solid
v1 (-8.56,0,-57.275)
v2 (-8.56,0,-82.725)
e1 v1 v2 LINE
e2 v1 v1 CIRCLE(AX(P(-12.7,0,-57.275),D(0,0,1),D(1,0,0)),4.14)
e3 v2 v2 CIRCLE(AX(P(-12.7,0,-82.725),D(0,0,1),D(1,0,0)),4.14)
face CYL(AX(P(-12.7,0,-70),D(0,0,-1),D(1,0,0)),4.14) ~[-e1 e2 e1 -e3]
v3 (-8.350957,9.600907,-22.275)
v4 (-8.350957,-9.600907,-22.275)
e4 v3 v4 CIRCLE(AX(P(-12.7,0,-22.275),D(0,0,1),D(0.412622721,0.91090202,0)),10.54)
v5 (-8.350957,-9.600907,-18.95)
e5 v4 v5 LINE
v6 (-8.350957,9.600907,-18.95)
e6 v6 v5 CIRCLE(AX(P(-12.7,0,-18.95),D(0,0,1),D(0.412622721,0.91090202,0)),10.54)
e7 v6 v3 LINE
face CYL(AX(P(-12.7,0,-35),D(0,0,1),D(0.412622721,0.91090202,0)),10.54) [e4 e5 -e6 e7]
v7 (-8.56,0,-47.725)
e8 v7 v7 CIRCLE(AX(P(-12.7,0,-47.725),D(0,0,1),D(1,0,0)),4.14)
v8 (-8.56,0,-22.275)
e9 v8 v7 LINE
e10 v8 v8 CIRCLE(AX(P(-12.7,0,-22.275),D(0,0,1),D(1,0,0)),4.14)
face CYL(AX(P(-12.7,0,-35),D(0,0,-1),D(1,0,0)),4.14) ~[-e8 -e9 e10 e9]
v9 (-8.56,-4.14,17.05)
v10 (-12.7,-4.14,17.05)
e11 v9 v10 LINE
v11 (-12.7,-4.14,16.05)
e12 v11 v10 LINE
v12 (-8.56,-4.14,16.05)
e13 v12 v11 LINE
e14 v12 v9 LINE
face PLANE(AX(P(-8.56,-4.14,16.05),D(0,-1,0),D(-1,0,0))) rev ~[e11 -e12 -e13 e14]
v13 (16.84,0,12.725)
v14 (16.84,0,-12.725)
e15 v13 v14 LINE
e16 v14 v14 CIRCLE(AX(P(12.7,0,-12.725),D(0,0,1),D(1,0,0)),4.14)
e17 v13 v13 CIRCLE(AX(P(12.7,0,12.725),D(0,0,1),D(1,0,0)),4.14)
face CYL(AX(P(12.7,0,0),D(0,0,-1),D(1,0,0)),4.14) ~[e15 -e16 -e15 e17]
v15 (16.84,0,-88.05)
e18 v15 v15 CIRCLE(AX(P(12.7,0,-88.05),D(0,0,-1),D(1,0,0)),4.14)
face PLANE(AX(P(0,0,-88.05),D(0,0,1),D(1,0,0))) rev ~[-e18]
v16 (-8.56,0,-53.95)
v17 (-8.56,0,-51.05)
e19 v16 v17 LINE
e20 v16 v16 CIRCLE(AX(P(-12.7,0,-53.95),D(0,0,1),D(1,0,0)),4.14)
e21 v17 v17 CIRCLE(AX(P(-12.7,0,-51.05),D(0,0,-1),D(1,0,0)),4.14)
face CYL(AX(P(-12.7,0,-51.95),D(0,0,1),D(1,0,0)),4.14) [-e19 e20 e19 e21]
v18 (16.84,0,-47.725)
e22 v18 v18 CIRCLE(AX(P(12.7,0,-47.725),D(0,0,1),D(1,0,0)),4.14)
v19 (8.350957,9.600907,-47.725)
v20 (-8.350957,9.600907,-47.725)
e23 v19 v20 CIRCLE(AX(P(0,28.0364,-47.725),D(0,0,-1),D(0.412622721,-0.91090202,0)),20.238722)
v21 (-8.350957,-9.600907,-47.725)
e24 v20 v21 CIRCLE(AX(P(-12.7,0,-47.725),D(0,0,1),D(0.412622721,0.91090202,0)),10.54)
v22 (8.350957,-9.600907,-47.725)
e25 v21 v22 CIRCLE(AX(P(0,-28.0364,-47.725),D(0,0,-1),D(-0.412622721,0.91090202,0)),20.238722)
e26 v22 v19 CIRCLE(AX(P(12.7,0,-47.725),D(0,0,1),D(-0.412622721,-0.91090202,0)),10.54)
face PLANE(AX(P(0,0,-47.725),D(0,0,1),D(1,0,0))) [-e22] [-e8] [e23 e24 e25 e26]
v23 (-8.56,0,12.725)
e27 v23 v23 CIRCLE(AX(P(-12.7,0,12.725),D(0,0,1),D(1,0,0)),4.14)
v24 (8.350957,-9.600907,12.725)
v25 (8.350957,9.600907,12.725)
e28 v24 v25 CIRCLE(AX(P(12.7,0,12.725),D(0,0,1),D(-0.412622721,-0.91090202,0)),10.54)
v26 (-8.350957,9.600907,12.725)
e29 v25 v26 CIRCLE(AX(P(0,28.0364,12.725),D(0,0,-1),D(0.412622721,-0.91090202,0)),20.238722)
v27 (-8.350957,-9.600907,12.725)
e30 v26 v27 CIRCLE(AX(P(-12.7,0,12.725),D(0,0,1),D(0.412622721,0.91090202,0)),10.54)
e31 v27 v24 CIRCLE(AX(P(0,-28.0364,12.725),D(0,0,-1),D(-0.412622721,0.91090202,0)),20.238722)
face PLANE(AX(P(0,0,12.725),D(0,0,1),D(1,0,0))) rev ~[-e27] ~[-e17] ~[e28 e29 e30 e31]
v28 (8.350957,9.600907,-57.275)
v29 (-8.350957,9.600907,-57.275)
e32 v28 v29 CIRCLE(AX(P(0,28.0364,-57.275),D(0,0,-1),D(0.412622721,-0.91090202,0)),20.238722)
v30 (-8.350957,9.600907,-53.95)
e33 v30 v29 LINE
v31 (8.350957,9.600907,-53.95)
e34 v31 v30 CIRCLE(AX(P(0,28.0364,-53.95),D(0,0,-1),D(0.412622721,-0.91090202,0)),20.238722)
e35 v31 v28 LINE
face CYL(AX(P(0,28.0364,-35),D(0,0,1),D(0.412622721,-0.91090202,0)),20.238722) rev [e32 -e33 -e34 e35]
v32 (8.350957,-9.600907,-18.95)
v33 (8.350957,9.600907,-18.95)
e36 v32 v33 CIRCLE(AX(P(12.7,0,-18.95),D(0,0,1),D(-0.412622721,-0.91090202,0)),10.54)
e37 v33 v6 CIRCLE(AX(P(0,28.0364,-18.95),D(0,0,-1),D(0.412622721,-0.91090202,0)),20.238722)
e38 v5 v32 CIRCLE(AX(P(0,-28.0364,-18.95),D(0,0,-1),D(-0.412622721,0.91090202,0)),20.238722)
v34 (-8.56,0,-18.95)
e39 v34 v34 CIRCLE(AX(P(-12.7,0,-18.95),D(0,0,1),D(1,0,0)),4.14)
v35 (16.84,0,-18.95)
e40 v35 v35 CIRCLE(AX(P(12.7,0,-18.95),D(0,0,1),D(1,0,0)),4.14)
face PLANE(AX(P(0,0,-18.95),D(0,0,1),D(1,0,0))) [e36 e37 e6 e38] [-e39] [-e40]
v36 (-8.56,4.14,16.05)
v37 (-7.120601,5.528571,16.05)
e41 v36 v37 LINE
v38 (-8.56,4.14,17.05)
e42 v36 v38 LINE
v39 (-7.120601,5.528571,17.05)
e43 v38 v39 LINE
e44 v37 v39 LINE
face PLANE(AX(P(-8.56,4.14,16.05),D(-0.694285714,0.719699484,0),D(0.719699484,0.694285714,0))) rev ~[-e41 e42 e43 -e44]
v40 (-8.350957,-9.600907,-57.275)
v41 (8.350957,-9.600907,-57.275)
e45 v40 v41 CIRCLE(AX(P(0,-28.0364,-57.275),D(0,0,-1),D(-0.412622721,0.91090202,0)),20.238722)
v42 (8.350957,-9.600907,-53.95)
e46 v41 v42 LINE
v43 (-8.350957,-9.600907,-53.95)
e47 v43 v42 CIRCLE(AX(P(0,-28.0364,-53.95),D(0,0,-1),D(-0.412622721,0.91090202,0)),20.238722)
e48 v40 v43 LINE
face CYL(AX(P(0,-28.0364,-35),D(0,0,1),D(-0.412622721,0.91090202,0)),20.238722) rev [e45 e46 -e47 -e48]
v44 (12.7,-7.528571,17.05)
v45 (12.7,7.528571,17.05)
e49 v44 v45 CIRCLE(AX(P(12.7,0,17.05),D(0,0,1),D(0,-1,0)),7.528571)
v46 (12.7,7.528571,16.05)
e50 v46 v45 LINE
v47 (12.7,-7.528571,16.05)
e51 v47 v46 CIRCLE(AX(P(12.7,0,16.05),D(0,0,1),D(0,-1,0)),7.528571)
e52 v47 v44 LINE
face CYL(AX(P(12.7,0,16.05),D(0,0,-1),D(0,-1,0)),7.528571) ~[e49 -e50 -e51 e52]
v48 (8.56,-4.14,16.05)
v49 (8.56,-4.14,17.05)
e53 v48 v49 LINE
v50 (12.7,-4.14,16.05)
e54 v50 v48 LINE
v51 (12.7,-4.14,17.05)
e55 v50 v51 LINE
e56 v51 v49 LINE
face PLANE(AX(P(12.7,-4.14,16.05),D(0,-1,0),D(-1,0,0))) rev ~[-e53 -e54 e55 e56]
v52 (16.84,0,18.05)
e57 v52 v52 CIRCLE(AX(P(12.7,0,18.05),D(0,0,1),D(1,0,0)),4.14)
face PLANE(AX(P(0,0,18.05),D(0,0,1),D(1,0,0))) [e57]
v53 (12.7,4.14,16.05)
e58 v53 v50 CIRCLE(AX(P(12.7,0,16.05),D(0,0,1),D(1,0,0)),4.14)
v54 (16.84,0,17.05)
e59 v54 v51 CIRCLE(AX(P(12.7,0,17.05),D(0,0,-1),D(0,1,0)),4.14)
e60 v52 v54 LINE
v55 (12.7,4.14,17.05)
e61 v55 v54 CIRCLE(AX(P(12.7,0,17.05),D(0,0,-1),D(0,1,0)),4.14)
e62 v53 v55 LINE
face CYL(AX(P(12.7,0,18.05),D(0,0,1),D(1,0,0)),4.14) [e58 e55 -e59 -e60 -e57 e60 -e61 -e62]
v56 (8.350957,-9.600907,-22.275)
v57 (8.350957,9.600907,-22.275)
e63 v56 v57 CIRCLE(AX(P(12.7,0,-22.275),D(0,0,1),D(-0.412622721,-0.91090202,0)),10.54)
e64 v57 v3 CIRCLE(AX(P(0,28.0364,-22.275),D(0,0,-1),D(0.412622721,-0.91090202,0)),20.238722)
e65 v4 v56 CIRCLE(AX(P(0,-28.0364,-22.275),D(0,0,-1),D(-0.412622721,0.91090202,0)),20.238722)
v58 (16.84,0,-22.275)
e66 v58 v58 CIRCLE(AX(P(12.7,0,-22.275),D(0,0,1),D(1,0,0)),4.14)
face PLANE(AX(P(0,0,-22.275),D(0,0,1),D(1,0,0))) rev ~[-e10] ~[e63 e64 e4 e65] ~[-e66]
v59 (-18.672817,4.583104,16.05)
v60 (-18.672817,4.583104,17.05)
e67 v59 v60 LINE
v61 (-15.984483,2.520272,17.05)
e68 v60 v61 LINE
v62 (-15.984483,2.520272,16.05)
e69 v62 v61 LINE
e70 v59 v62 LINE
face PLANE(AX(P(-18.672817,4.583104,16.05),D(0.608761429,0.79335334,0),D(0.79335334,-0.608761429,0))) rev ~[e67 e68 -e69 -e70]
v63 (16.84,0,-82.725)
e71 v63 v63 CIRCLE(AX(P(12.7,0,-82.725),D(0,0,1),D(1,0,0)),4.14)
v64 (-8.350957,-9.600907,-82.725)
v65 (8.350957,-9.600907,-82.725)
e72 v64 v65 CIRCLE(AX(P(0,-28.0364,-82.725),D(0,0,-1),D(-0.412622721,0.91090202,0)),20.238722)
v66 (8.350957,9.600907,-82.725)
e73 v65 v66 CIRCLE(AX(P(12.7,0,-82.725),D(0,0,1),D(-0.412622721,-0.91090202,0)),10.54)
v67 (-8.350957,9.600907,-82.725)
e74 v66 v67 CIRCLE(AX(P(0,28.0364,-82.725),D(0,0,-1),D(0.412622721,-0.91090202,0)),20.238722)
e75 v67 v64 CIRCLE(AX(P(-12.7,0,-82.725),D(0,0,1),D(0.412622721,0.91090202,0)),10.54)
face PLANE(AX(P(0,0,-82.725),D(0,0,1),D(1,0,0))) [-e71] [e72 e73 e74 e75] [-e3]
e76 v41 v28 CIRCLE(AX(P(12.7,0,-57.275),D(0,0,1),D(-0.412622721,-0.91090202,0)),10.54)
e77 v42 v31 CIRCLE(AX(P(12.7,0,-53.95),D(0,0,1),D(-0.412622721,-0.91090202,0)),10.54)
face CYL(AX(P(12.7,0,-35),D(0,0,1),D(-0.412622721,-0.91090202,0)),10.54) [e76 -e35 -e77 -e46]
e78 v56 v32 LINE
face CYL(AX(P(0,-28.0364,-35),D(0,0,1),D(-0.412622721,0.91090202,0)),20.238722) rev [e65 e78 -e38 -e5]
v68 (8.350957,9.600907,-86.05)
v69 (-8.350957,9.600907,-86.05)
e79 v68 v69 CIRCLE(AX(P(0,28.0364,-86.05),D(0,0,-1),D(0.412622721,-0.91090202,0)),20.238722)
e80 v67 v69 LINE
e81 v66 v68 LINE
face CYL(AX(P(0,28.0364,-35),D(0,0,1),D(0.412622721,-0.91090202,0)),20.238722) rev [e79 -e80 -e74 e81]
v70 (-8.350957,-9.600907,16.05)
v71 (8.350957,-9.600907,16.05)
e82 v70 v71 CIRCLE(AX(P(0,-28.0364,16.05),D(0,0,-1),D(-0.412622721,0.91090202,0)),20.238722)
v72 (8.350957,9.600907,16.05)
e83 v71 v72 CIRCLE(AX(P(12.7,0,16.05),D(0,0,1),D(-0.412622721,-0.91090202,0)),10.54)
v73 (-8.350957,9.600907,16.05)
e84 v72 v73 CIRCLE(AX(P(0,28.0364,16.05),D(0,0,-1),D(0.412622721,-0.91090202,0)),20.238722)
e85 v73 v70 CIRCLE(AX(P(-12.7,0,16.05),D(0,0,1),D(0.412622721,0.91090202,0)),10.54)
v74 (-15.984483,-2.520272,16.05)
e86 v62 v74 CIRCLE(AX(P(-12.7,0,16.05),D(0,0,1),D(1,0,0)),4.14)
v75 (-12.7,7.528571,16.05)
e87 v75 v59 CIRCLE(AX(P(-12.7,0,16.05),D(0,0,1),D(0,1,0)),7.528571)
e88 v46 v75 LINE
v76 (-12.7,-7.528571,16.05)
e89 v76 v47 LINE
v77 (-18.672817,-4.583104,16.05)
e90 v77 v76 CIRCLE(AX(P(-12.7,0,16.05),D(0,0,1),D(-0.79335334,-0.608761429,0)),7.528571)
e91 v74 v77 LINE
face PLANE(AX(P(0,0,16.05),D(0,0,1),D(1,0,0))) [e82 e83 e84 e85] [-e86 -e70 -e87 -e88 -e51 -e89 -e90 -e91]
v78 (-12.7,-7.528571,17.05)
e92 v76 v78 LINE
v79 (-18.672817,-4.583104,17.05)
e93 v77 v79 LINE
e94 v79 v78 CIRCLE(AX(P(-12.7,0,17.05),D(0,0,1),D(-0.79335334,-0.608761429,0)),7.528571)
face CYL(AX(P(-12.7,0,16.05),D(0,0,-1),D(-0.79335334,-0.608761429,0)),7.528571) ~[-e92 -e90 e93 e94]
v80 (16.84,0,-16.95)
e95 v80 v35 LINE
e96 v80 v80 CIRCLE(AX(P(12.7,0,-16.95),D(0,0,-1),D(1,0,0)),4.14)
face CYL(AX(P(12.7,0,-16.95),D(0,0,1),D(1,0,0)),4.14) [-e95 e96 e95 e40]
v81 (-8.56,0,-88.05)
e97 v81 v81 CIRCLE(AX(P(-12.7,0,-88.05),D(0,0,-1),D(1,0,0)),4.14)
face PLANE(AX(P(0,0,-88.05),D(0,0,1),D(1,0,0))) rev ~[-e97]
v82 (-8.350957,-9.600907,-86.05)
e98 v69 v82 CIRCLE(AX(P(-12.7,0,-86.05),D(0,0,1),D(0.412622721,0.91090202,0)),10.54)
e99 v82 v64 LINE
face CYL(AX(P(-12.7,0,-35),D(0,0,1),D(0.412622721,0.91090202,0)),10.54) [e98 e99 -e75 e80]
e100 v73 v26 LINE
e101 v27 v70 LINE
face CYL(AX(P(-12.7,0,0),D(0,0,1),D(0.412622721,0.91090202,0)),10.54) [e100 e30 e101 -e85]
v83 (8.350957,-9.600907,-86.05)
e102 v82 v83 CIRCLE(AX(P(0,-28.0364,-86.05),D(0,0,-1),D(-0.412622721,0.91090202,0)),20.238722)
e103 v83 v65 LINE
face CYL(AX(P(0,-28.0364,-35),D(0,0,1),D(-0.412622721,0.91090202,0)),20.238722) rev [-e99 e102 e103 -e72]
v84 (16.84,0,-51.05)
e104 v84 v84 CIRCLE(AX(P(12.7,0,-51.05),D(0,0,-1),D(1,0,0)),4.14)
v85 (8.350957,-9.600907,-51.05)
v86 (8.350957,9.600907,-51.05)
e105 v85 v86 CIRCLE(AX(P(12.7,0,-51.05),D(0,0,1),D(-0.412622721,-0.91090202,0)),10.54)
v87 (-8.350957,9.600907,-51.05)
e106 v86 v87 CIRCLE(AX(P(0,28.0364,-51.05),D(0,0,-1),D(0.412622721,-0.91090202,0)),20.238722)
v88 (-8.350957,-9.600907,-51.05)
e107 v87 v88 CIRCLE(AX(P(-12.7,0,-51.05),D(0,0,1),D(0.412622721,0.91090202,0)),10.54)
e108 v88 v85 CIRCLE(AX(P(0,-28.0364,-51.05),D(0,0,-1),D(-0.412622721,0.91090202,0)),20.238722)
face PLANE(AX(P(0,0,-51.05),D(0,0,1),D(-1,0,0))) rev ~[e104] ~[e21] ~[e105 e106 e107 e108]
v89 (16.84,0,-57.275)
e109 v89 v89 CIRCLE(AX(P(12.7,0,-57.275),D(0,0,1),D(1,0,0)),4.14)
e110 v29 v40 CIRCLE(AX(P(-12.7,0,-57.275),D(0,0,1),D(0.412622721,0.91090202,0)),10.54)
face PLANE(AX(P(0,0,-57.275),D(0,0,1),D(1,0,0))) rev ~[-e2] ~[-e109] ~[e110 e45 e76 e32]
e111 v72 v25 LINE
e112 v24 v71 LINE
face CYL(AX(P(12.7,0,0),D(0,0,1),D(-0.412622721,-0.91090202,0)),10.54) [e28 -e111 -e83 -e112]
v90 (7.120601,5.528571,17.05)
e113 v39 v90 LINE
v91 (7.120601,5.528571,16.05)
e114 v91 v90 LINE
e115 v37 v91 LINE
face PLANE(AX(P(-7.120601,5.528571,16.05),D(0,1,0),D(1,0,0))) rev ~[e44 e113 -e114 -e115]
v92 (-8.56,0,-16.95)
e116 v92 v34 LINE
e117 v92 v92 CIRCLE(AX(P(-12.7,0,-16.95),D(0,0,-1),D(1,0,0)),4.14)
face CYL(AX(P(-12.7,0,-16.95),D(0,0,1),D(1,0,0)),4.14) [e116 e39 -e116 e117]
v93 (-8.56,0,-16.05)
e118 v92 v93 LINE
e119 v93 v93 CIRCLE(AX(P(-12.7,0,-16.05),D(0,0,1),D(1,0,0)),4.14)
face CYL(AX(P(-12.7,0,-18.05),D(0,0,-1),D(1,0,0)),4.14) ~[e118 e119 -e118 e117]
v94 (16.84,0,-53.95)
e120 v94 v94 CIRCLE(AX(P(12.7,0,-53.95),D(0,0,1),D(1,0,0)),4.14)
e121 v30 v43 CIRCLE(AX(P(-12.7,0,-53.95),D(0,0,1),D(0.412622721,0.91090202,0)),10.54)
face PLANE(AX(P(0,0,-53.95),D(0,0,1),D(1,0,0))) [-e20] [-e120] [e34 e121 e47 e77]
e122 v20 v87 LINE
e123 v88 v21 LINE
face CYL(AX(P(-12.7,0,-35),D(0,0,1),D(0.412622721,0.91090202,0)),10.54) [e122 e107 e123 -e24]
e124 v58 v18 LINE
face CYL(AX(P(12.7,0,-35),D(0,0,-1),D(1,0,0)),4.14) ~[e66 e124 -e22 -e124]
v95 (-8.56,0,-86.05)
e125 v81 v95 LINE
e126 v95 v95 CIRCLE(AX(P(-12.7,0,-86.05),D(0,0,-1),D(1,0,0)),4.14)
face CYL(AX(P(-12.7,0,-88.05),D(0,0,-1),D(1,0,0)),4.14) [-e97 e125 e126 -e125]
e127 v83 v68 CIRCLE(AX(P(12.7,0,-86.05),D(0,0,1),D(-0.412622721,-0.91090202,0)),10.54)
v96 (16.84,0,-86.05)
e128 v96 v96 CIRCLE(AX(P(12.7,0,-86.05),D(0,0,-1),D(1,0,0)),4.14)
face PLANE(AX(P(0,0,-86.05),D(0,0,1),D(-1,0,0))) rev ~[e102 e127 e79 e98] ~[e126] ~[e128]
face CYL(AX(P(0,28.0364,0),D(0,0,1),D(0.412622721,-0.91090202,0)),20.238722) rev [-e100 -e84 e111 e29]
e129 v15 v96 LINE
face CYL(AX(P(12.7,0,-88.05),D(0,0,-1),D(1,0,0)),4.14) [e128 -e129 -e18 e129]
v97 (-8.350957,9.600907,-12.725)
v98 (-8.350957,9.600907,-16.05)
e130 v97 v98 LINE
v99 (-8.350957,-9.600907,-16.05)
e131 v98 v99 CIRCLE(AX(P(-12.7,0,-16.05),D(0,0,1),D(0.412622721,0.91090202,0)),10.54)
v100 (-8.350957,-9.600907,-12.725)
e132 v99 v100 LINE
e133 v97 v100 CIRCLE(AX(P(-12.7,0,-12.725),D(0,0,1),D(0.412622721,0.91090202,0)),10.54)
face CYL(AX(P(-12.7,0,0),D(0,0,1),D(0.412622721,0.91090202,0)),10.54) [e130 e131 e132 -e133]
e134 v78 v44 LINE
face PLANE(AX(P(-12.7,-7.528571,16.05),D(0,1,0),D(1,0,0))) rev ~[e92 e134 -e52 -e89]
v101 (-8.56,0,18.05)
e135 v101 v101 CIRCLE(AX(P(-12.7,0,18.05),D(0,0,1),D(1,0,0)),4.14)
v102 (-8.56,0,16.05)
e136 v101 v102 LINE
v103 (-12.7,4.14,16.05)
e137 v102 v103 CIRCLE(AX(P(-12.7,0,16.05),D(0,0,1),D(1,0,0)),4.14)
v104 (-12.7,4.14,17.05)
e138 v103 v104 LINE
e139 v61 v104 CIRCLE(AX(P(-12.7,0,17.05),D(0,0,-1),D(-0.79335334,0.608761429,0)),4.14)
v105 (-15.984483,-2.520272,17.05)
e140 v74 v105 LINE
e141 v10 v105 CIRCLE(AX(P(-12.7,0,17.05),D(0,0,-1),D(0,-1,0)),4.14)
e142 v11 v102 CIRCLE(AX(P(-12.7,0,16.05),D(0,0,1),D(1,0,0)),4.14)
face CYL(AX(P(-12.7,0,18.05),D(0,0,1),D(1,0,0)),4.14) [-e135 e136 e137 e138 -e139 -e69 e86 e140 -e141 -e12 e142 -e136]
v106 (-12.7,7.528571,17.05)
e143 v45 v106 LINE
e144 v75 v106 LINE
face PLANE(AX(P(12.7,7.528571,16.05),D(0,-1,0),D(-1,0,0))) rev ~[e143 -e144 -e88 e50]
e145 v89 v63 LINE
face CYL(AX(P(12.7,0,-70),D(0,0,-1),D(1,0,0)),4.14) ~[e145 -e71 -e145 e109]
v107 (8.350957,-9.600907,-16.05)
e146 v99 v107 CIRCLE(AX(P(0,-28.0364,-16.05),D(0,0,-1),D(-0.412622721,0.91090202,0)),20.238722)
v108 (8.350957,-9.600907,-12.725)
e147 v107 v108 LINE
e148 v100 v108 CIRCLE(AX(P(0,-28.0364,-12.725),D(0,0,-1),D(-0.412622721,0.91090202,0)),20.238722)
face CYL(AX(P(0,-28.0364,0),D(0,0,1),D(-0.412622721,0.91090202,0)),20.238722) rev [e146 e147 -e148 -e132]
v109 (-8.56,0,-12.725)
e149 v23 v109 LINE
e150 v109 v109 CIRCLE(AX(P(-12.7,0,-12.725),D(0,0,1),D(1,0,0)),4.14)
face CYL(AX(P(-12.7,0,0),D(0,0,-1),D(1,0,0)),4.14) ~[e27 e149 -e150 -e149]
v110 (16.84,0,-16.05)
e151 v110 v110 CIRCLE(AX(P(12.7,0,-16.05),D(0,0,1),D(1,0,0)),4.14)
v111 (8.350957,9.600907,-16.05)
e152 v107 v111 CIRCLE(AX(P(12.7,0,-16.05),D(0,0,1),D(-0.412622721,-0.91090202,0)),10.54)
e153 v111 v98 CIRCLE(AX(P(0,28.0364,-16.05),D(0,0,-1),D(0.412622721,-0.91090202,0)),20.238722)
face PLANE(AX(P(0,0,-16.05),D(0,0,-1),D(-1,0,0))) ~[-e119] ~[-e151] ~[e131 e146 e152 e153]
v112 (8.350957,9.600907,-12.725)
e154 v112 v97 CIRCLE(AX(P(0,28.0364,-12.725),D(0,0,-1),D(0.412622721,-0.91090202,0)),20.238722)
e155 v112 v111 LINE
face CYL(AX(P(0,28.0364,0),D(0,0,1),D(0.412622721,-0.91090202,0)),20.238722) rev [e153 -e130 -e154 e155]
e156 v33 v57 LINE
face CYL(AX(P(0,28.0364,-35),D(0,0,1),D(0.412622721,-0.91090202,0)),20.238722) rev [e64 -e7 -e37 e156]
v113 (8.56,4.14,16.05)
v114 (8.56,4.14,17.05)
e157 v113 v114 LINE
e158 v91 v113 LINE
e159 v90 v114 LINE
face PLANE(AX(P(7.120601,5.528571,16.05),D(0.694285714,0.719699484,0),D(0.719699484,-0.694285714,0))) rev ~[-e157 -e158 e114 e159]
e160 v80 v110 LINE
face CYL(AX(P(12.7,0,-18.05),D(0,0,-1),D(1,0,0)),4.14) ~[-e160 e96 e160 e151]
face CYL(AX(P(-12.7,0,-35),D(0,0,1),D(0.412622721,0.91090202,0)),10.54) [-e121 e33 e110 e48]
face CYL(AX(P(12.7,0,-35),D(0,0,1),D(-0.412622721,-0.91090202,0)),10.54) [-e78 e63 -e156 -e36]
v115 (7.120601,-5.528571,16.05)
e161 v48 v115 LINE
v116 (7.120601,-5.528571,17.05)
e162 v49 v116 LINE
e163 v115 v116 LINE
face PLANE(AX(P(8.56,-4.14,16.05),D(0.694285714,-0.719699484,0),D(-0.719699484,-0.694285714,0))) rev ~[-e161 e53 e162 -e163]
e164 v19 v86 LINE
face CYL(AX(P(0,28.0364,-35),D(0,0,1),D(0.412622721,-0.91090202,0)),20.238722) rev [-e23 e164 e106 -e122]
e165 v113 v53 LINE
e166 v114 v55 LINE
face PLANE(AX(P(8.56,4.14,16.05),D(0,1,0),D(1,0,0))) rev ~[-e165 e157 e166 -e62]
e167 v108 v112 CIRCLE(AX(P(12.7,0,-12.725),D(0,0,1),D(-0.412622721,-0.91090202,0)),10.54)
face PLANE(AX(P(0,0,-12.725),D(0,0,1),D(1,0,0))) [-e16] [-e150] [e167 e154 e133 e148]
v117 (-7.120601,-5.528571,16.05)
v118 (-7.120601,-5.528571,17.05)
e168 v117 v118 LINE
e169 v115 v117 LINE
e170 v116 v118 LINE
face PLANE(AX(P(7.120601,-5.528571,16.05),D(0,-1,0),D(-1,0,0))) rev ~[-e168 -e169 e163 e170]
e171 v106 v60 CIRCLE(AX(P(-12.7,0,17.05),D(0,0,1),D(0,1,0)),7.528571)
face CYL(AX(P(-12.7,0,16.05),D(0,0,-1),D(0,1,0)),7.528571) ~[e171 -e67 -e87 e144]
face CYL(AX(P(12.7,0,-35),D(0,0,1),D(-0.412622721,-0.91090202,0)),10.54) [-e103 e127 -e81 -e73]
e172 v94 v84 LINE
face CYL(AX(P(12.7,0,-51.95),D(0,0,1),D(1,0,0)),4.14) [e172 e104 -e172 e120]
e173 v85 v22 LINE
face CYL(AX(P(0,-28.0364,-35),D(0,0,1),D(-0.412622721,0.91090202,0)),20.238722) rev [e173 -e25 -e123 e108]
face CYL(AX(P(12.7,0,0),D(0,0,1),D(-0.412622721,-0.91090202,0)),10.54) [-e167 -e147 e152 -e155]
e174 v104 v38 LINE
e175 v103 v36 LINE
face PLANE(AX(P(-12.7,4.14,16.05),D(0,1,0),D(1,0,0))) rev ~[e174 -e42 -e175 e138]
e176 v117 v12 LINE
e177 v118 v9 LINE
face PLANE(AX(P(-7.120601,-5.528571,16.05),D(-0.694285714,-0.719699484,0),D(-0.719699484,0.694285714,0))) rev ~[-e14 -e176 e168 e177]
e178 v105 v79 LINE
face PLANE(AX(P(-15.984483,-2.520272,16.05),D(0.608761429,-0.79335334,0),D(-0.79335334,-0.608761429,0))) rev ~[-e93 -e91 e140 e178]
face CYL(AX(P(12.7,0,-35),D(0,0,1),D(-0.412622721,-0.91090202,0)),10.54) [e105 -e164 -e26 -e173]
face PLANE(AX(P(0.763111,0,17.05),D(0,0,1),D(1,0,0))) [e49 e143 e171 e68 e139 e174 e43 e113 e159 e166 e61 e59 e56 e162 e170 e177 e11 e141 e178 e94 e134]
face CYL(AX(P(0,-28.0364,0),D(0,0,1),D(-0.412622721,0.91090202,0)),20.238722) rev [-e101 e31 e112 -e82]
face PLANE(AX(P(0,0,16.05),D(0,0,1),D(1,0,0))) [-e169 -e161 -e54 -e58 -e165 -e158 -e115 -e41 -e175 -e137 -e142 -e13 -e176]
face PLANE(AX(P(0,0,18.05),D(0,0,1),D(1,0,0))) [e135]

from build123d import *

# Parameters (mm, degrees)
AUFSATZ_LINEAR_AUSTRAGEN1_DEPTH  = 18.05
SKIZZE3_R                        = 4.14
SCHNITT_LINEAR_AUSTRAGEN1_DEPTH  = 12.725
SKIZZE4_R                        = 4.14
SCHNITT_LINEAR_AUSTRAGEN2_DEPTH  = 2
AUFSATZ_LINEAR_AUSTRAGEN2_DEPTH  = 1
LINEARES_MUSTER6_COUNT           = 3
LINEARES_MUSTER6_PITCH           = 35
LINEARES_MUSTER6_COPY_1_SKETCH_R = 4.14
LINEARES_MUSTER6_COPY_1_DEPTH    = 2
LINEARES_MUSTER6_COPY_2_SKETCH_R = 4.14
LINEARES_MUSTER6_COPY_2_DEPTH    = 2


with BuildPart() as part:
    # Skizze1 → Aufsatz-Linear austragen1 (new, symmetric)
    with BuildSketch(Plane.XY):
        with BuildLine():
            ThreePointArc((-8.350956521, 9.600907291), (-23.24, 0), (-8.350956521, -9.600907291))
            ThreePointArc((-8.350956521, -9.600907291), (0, -7.797678049), (8.350956521, -9.600907291))
            ThreePointArc((8.350956521, -9.600907291), (23.24, 0), (8.350956521, 9.600907291))
            ThreePointArc((8.350956521, 9.600907291), (0, 7.797678049), (-8.350956521, 9.600907291))
        make_face()
    aufsatz_linear_austragen1 = extrude(amount=AUFSATZ_LINEAR_AUSTRAGEN1_DEPTH, both=True)

    # Skizze3 → Schnitt-Linear austragen1 (cut, symmetric)
    with BuildSketch(Plane.XY):
        with BuildLine():
            ThreePointArc((-8.350956521, 9.600907291), (-23.24, 0), (-8.350956521, -9.600907291))
            ThreePointArc((-8.350956521, -9.600907291), (0, -7.797678049), (8.350956521, -9.600907291))
            ThreePointArc((8.350956521, -9.600907291), (23.24, 0), (8.350956521, 9.600907291))
            ThreePointArc((8.350956521, 9.600907291), (0, 7.797678049), (-8.350956521, 9.600907291))
        make_face()
        with Locations((-12.7, 0)):
            Circle(SKIZZE3_R, mode=Mode.SUBTRACT)
        with Locations((12.7, 0)):
            Circle(SKIZZE3_R, mode=Mode.SUBTRACT)
    schnitt_linear_austragen1 = extrude(amount=SCHNITT_LINEAR_AUSTRAGEN1_DEPTH, both=True, mode=Mode.SUBTRACT)

    # Skizze4 → Schnitt-Linear austragen2 (cut)
    with BuildSketch(Plane.XY.offset(18.05)):
        with BuildLine():
            ThreePointArc((-8.350956521, 9.600907291), (-23.24, 0), (-8.350956521, -9.600907291))
            ThreePointArc((-8.350956521, -9.600907291), (0, -7.797678049), (8.350956521, -9.600907291))
            ThreePointArc((8.350956521, -9.600907291), (23.24, 0), (8.350956521, 9.600907291))
            ThreePointArc((8.350956521, 9.600907291), (0, 7.797678049), (-8.350956521, 9.600907291))
        make_face()
        with Locations((-12.7, 0)):
            Circle(SKIZZE4_R, mode=Mode.SUBTRACT)
        with Locations((12.7, 0)):
            Circle(SKIZZE4_R, mode=Mode.SUBTRACT)
    schnitt_linear_austragen2 = extrude(amount=-SCHNITT_LINEAR_AUSTRAGEN2_DEPTH, mode=Mode.SUBTRACT)

    # Spiegeln1: Schnitt-Linear austragen2 across plane
    add(schnitt_linear_austragen2.mirror(Plane.XY), mode=Mode.SUBTRACT)

    # Skizze5 → Aufsatz-Linear austragen2 (add)
    with BuildSketch(Plane.XY.offset(16.05)):
        with BuildLine():
            Line((-18.67281729, 4.583103901), (-15.984482829, 2.520272316))
            ThreePointArc((-15.984482829, 2.520272316), (-14.531075178, 3.71305315), (-12.7, 4.14))
            Line((-12.7, 4.14), (-8.56, 4.14))
            Line((-8.56, 4.14), (-7.120601032, 5.528571429))
            Line((-7.120601032, 5.528571429), (7.120601032, 5.528571429))
            Line((7.120601032, 5.528571429), (8.56, 4.14))
            Line((8.56, 4.14), (12.7, 4.14))
            ThreePointArc((12.7, 4.14), (16.84, 0), (12.7, -4.14))
            Line((12.7, -4.14), (8.56, -4.14))
            Line((8.56, -4.14), (7.120601032, -5.528571429))
            Line((7.120601032, -5.528571429), (-7.120601032, -5.528571429))
            Line((-7.120601032, -5.528571429), (-8.56, -4.14))
            Line((-8.56, -4.14), (-12.7, -4.14))
            ThreePointArc((-12.7, -4.14), (-14.531075178, -3.71305315), (-15.984482829, -2.520272316))
            Line((-15.984482829, -2.520272316), (-18.67281729, -4.583103901))
            ThreePointArc((-18.67281729, -4.583103901), (-16.029801996, -6.752170497), (-12.7, -7.528571429))
            Line((-12.7, -7.528571429), (12.7, -7.528571429))
            ThreePointArc((12.7, -7.528571429), (20.228571429, 0), (12.7, 7.528571429))
            Line((12.7, 7.528571429), (-12.7, 7.528571429))
            ThreePointArc((-12.7, 7.528571429), (-16.029801996, 6.752170497), (-18.67281729, 4.583103901))
        make_face()
    extrude(amount=AUFSATZ_LINEAR_AUSTRAGEN2_DEPTH)

    # Lineares Muster6: Aufsatz-Linear austragen1, Schnitt-Linear austragen1, Schnitt-Linear austragen2 ×3
    with Locations(*[(0, 0, -i * LINEARES_MUSTER6_PITCH) for i in range(1, LINEARES_MUSTER6_COUNT)]):
        add(aufsatz_linear_austragen1)
        add(schnitt_linear_austragen1, mode=Mode.SUBTRACT)
        add(schnitt_linear_austragen2, mode=Mode.SUBTRACT)

    # Lineares Muster6 copy 1 sketch → Lineares Muster6 copy 1 (cut)
    with BuildSketch(Plane(origin=(0, 0, -53.05), x_dir=(1, 0, 0), z_dir=(0, 0, -1))):
        with BuildLine():
            ThreePointArc((-8.350956521, -9.600907291), (-23.24, 0), (-8.350956521, 9.600907291))
            ThreePointArc((-8.350956521, 9.600907291), (0, 7.797678049), (8.350956521, 9.600907291))
            ThreePointArc((8.350956521, 9.600907291), (23.24, 0), (8.350956521, -9.600907291))
            ThreePointArc((8.350956521, -9.600907291), (0, -7.797678049), (-8.350956521, -9.600907291))
        make_face()
        with Locations((-12.7, 0)):
            Circle(LINEARES_MUSTER6_COPY_1_SKETCH_R, mode=Mode.SUBTRACT)
        with Locations((12.7, 0)):
            Circle(LINEARES_MUSTER6_COPY_1_SKETCH_R, mode=Mode.SUBTRACT)
    extrude(amount=-LINEARES_MUSTER6_COPY_1_DEPTH, mode=Mode.SUBTRACT)

    # Lineares Muster6 copy 2 sketch → Lineares Muster6 copy 2 (cut)
    with BuildSketch(Plane(origin=(0, 0, -88.05), x_dir=(1, 0, 0), z_dir=(0, 0, -1))):
        with BuildLine():
            ThreePointArc((-8.350956521, -9.600907291), (-23.24, 0), (-8.350956521, 9.600907291))
            ThreePointArc((-8.350956521, 9.600907291), (0, 7.797678049), (8.350956521, 9.600907291))
            ThreePointArc((8.350956521, 9.600907291), (23.24, 0), (8.350956521, -9.600907291))
            ThreePointArc((8.350956521, -9.600907291), (0, -7.797678049), (-8.350956521, -9.600907291))
        make_face()
        with Locations((-12.7, 0)):
            Circle(LINEARES_MUSTER6_COPY_2_SKETCH_R, mode=Mode.SUBTRACT)
        with Locations((12.7, 0)):
            Circle(LINEARES_MUSTER6_COPY_2_SKETCH_R, mode=Mode.SUBTRACT)
    extrude(amount=-LINEARES_MUSTER6_COPY_2_DEPTH, mode=Mode.SUBTRACT)


solid = part.part
